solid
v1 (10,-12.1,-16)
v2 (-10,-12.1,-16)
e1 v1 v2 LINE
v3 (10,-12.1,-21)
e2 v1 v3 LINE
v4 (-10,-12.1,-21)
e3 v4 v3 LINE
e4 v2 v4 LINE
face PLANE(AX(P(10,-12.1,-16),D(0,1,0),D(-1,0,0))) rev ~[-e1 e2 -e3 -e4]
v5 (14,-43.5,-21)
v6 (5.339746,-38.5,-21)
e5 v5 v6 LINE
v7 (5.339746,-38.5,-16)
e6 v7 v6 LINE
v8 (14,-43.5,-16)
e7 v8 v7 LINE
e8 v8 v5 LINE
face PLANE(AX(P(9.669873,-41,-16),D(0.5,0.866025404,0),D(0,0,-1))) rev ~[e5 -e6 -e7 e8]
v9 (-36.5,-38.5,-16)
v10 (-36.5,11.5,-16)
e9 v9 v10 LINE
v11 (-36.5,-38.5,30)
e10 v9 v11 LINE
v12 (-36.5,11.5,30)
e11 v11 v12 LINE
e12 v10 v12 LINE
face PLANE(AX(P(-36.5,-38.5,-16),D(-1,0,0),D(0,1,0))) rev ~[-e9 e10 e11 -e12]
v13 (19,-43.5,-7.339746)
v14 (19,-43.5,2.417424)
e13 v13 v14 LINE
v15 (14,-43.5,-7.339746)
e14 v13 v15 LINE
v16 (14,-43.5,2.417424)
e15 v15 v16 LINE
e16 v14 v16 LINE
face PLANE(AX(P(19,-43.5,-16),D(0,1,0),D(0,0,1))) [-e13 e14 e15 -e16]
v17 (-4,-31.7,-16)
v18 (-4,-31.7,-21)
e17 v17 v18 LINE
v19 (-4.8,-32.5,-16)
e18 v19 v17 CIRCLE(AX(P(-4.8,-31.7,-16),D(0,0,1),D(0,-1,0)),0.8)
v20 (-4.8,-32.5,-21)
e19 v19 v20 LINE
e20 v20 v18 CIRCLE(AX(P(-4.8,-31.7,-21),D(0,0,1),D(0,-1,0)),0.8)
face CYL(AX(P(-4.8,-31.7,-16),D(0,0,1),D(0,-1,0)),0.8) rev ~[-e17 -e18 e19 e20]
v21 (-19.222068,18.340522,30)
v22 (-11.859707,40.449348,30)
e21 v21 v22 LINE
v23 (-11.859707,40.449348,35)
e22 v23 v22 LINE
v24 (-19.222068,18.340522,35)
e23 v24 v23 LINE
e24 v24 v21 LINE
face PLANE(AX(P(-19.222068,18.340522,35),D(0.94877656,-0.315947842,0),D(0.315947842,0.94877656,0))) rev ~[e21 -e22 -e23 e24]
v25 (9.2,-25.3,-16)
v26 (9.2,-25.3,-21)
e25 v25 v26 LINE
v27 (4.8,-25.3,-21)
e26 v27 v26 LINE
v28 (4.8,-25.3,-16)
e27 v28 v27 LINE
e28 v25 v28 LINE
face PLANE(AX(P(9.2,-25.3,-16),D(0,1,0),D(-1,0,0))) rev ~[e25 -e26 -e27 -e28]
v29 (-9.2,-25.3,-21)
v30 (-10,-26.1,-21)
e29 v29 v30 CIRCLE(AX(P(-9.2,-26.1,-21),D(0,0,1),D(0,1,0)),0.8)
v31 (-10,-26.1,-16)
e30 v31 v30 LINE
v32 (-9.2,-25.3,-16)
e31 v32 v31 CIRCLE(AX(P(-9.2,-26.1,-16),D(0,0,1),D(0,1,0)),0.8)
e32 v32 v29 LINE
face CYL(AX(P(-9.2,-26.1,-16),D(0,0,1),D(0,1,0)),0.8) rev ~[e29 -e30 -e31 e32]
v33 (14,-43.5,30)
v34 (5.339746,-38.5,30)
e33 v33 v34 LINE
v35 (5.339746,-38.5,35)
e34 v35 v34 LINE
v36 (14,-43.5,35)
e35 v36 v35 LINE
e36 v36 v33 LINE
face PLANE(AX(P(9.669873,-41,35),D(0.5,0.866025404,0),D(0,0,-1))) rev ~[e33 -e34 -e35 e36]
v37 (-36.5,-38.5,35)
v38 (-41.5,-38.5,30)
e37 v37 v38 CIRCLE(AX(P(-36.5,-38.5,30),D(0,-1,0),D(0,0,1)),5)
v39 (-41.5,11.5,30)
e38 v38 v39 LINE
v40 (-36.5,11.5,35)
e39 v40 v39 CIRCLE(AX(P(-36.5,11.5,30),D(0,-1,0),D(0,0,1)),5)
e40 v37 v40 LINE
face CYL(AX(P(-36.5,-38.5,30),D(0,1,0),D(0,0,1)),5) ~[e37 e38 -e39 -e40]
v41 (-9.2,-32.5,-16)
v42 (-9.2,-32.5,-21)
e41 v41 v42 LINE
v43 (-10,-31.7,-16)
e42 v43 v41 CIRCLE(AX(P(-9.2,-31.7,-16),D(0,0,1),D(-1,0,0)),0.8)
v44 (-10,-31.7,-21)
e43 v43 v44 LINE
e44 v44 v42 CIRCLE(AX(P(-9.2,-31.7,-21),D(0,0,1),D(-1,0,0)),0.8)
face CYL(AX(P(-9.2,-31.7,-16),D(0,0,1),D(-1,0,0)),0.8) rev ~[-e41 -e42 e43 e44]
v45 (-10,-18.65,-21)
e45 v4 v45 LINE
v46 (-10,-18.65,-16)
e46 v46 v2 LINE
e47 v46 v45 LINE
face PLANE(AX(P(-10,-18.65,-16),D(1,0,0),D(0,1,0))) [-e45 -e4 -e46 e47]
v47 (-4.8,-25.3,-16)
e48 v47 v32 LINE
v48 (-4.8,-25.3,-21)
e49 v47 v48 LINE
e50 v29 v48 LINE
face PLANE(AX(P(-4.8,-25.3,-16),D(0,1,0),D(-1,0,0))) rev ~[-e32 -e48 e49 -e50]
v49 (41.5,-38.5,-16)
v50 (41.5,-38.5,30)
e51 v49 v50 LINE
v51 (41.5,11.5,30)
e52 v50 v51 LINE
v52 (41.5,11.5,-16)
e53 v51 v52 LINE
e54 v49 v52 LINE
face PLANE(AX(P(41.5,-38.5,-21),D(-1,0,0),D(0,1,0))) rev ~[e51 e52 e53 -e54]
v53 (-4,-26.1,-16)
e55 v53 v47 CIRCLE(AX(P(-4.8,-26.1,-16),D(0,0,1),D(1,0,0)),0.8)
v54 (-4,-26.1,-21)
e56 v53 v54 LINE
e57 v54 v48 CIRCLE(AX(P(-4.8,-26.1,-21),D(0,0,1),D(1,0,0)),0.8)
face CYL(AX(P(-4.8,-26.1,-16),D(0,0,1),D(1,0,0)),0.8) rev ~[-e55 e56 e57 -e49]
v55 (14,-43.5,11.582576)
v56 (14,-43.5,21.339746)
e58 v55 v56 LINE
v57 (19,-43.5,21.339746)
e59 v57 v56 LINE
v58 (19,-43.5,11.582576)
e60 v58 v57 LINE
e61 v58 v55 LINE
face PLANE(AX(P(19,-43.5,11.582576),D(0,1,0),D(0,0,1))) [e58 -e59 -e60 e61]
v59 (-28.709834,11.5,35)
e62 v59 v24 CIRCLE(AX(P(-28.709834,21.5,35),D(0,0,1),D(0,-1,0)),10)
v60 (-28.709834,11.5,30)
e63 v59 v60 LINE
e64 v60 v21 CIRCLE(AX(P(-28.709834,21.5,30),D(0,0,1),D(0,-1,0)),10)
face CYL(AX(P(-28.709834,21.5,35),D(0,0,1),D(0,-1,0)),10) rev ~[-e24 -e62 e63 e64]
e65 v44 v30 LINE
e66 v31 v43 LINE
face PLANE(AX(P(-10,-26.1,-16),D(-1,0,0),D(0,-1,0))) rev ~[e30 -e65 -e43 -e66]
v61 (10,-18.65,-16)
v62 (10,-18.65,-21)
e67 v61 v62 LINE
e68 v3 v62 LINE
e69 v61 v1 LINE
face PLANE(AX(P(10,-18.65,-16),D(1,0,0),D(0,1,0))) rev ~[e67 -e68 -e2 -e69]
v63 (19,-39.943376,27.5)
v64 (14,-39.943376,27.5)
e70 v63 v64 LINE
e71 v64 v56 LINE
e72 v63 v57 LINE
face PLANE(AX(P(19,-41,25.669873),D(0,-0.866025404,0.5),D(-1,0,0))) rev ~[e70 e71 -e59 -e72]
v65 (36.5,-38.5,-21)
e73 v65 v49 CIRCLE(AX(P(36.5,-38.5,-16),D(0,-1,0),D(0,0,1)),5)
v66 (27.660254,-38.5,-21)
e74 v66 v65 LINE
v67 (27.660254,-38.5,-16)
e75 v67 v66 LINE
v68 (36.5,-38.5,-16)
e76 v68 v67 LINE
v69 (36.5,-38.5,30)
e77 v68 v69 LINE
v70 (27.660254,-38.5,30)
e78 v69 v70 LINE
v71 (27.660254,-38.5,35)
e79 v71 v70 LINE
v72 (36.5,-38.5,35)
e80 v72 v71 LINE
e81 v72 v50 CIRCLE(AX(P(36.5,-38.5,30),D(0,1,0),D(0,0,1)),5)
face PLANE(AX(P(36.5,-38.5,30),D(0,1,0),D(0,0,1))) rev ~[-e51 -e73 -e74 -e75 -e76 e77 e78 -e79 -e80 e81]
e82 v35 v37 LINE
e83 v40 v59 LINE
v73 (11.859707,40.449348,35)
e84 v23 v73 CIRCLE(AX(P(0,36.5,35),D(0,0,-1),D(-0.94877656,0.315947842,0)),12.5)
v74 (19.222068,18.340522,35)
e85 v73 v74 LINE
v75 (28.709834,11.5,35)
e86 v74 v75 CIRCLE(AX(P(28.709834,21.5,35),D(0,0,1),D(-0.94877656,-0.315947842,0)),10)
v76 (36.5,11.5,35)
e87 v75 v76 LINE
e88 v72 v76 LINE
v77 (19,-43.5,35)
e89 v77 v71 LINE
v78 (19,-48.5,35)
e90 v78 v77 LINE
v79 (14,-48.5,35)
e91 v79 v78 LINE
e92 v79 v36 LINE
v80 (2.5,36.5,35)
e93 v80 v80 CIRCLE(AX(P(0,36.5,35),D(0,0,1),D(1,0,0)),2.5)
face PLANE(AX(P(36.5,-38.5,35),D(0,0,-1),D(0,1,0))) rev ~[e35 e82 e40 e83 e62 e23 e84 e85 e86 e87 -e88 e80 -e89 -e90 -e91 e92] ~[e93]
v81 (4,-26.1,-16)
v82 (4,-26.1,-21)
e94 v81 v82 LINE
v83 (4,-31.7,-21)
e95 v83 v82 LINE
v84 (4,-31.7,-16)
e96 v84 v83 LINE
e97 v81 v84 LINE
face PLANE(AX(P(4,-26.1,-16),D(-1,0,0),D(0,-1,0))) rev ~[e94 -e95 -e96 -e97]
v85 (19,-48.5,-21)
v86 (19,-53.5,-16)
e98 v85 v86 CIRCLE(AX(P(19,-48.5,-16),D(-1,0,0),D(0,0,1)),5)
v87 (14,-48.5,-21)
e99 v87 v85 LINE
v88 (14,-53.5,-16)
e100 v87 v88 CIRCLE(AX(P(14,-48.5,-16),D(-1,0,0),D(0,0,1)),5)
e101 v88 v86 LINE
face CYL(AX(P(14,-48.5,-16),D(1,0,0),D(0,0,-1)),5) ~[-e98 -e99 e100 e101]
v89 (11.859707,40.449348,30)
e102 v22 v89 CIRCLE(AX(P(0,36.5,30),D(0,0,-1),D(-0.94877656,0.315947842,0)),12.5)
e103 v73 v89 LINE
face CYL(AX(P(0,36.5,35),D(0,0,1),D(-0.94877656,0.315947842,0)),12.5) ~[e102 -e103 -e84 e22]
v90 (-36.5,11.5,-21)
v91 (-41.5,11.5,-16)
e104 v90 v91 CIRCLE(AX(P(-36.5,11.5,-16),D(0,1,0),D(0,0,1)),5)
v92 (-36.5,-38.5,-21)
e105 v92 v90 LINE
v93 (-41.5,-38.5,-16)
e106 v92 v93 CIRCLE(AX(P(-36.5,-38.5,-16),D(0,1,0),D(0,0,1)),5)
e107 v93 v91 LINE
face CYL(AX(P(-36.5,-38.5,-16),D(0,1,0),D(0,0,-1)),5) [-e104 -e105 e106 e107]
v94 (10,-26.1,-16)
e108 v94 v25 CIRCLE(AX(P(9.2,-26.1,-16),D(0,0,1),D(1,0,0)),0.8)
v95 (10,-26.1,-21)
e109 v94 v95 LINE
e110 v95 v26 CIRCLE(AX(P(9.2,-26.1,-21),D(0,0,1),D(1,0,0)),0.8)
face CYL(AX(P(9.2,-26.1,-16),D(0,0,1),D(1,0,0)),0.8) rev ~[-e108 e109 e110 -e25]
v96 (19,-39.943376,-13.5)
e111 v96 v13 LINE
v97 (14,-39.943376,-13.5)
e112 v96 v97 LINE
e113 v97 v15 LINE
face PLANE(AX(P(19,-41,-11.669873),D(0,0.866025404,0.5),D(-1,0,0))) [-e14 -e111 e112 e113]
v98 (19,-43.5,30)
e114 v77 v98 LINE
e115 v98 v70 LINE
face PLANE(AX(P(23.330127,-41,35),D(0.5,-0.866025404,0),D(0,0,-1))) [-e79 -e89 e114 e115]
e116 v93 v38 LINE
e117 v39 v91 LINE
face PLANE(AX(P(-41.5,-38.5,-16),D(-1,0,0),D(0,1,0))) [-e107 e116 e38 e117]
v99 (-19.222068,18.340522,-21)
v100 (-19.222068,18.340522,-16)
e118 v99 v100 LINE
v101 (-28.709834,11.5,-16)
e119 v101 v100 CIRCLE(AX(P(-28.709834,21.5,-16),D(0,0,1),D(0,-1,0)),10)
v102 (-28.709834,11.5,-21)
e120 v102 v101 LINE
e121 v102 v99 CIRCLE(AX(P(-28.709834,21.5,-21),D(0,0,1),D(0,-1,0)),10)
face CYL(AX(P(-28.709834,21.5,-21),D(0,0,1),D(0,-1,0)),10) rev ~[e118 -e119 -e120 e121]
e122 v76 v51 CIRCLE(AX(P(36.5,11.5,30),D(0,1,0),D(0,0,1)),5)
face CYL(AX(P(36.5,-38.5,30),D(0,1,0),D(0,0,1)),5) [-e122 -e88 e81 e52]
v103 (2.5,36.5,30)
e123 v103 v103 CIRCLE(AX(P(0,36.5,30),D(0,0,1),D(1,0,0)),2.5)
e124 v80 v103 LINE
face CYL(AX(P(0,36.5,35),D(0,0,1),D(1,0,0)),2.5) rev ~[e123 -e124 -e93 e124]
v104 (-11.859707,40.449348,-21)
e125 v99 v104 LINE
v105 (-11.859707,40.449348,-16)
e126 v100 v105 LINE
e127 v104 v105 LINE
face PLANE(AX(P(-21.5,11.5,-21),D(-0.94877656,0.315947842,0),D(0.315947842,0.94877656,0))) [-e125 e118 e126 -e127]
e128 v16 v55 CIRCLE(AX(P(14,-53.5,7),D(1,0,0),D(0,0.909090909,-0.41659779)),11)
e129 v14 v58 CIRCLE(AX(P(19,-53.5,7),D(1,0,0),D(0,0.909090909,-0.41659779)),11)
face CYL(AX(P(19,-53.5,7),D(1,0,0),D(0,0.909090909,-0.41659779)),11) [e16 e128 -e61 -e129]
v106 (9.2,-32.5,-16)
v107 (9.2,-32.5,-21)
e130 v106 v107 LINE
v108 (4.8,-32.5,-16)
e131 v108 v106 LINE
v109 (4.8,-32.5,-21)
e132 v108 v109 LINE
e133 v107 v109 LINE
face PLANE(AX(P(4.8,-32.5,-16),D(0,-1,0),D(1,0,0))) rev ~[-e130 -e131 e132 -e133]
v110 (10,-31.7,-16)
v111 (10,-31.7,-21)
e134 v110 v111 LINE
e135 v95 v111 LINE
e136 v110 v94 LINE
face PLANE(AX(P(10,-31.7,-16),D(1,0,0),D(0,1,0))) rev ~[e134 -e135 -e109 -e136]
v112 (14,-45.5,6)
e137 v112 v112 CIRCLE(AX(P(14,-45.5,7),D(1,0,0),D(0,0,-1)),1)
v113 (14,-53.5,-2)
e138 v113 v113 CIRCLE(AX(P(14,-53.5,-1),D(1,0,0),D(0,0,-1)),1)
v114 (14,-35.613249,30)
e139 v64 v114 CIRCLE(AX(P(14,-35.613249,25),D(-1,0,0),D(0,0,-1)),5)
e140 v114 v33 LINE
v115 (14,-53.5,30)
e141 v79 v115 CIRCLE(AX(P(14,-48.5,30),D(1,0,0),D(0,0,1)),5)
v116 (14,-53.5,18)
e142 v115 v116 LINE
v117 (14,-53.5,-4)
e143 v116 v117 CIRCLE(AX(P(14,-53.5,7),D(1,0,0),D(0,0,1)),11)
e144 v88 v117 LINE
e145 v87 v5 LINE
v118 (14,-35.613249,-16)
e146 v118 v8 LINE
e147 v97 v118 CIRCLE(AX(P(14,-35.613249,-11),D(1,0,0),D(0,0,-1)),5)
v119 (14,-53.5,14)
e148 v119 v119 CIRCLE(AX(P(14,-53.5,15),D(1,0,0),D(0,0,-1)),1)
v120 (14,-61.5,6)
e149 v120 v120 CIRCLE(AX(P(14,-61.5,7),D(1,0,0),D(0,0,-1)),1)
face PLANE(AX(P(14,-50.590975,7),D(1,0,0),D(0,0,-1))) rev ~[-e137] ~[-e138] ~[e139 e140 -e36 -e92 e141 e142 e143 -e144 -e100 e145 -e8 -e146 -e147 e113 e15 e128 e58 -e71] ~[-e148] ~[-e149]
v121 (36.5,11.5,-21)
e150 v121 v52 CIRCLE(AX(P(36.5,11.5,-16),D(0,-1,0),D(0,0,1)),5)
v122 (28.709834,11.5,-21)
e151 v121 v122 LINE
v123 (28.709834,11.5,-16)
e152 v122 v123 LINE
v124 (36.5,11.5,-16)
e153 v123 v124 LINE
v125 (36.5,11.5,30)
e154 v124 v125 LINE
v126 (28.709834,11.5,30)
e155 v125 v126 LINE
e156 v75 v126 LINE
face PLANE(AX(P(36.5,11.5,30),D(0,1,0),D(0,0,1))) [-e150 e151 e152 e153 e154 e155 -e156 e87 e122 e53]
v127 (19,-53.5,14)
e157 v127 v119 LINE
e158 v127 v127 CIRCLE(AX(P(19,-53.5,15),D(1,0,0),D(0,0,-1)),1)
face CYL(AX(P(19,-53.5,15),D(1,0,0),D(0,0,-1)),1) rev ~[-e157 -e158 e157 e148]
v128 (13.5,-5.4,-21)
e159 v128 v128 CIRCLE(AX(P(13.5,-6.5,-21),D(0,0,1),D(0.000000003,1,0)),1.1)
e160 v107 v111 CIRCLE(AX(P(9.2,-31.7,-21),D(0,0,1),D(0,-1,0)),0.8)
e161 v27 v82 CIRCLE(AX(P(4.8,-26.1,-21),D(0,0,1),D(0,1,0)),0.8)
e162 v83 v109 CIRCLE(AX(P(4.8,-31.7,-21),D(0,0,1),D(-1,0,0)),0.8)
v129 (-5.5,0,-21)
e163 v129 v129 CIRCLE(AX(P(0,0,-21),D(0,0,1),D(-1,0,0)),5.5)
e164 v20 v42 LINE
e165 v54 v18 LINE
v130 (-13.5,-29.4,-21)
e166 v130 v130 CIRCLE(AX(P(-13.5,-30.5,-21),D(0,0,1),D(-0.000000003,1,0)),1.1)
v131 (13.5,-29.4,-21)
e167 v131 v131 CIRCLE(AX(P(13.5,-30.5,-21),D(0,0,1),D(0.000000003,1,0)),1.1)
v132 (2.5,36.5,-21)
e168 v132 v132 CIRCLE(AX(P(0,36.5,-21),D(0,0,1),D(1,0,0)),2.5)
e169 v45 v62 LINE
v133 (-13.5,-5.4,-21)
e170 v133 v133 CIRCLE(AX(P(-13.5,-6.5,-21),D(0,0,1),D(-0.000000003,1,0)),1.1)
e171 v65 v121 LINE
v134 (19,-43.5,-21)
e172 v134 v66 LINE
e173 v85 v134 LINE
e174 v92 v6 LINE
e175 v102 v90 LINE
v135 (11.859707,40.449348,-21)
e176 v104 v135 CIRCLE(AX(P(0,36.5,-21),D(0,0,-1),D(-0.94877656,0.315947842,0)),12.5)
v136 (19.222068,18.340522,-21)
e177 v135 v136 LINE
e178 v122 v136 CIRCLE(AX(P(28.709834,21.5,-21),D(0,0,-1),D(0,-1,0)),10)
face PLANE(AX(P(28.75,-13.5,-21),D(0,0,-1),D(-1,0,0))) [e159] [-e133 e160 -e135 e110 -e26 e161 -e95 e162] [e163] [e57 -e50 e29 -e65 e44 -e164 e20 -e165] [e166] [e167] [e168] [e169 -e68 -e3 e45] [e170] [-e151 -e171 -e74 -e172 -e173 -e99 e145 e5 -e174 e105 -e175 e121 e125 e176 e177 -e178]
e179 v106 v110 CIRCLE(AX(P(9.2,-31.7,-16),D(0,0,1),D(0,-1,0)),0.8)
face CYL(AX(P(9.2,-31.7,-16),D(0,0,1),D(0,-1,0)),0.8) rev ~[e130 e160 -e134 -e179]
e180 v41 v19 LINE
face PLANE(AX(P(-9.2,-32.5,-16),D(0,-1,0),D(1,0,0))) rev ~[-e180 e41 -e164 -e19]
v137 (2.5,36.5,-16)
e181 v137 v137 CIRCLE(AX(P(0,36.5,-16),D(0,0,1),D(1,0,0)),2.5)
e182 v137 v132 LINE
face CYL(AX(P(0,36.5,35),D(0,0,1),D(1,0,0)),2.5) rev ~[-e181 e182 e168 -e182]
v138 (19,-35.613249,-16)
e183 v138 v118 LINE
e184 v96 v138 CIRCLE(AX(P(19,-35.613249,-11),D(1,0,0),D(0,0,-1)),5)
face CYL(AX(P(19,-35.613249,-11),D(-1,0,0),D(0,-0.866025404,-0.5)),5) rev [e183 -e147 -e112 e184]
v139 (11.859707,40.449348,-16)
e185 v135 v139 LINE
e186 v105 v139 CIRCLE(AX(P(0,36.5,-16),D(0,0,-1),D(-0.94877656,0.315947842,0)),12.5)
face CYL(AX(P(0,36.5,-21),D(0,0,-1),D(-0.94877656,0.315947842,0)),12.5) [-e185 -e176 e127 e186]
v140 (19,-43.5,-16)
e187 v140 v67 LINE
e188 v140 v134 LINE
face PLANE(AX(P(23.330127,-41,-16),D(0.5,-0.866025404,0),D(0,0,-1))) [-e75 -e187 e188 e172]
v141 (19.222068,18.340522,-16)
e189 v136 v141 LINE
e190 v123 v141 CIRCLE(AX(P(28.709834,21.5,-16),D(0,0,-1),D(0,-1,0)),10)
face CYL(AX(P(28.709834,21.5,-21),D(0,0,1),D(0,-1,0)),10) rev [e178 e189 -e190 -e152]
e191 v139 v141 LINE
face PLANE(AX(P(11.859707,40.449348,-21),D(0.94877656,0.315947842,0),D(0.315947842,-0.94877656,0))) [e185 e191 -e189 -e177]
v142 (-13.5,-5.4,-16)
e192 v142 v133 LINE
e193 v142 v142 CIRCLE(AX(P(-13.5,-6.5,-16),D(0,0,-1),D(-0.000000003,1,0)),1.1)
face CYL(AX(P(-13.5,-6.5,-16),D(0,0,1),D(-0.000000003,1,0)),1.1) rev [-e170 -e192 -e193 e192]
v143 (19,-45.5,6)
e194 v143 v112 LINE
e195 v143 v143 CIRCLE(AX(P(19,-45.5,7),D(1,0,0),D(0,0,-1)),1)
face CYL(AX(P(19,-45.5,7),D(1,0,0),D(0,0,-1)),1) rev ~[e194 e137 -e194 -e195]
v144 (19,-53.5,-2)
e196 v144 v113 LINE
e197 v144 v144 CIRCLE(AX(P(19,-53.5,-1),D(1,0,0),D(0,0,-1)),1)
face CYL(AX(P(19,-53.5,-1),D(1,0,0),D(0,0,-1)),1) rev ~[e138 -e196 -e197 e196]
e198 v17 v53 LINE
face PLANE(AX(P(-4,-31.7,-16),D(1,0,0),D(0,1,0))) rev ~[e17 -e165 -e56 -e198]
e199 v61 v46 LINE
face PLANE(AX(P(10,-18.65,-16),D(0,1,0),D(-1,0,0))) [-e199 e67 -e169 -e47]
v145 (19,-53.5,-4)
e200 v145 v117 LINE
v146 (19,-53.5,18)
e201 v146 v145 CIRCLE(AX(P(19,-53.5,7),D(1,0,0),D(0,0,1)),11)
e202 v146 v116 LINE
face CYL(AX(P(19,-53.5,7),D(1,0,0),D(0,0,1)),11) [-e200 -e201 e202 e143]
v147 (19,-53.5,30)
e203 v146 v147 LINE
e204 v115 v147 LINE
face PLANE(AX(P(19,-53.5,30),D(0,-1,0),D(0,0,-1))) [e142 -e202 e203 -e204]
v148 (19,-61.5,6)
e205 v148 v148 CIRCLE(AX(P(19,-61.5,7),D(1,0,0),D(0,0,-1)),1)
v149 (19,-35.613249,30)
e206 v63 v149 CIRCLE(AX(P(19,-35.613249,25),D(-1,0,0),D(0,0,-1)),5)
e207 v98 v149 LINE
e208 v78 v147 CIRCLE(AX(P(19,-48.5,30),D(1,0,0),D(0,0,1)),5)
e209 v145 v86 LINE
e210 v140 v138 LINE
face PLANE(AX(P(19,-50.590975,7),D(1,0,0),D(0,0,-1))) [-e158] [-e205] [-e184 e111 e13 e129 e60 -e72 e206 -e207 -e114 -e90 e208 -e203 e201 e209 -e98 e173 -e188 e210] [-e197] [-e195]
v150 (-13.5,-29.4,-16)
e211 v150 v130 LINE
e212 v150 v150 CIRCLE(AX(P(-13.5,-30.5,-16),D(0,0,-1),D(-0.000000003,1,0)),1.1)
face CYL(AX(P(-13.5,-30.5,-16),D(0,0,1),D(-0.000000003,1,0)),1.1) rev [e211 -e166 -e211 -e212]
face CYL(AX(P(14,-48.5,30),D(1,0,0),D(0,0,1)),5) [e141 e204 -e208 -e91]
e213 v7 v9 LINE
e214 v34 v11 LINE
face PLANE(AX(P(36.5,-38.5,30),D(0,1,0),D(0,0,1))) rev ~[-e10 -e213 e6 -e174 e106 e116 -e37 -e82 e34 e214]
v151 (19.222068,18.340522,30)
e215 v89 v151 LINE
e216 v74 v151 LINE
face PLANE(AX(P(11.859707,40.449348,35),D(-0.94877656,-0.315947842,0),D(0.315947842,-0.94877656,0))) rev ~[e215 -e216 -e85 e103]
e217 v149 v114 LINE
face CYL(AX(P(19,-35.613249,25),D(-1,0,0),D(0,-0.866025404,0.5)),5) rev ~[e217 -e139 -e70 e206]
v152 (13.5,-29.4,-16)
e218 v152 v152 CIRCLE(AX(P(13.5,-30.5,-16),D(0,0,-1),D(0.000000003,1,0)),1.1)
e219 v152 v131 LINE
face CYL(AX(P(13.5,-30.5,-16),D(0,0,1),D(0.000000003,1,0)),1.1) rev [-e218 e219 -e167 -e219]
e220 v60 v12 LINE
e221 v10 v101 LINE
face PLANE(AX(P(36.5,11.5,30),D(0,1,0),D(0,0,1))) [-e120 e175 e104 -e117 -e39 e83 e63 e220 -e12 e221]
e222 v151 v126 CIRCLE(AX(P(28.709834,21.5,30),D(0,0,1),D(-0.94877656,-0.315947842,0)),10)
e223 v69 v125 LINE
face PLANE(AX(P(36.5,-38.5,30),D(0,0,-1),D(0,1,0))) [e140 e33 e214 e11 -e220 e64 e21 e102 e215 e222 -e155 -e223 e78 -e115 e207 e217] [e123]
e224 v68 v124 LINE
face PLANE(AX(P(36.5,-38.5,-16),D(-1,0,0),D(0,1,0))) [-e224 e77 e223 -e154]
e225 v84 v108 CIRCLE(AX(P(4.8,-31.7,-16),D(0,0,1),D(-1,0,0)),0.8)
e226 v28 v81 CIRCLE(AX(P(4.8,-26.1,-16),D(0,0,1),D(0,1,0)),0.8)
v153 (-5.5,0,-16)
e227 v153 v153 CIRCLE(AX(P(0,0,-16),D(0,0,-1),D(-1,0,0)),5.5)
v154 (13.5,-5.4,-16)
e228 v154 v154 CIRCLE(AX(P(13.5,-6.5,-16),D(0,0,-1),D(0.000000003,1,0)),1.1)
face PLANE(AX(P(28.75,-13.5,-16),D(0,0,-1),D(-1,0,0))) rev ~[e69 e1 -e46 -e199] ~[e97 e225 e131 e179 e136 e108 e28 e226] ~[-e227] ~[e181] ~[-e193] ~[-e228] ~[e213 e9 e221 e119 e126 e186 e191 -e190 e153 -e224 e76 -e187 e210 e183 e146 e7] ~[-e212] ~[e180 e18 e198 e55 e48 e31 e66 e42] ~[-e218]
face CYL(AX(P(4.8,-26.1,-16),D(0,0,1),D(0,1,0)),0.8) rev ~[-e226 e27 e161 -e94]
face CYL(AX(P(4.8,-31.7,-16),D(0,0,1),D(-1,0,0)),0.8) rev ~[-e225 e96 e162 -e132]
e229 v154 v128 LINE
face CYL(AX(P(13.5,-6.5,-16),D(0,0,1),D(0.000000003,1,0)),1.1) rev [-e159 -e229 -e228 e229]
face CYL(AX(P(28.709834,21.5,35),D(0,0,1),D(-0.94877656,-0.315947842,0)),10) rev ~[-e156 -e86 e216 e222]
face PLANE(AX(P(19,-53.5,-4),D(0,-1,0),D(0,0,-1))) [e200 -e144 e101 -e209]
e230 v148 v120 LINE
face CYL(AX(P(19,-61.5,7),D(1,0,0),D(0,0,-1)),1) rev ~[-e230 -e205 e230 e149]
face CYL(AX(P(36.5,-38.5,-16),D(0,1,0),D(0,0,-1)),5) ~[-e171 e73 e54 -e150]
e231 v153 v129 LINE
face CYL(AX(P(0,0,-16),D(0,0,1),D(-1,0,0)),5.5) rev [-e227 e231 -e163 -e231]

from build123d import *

# Parameters (mm, degrees)
SKETCH3_W             = 32
SKETCH3_H             = 50
BOSS_EXTRUDE1_DEPTH   = 5
CUT_W                 = 20
CUT_H                 = 6.55
CUT_EXTRUDE1_DEPTH    = 10
SKETCH4_W             = 25.5
SKETCH4_H             = 50
BOSS_EXTRUDE2_DEPTH   = 5
SKETCH5_W             = 5
SKETCH5_H             = 50
BOSS_EXTRUDE3_DEPTH   = 51
BOSS_EXTRUDE4_REACH   = 80
SKETCH6_W             = 5
SKETCH6_H             = 50
BOSS_EXTRUDE5_DEPTH   = 5
FILLET1_R             = 10
BOSS_EXTRUDE6_DEPTH   = 5
SKETCH9_W             = 5
SKETCH9_H             = 15
BOSS_EXTRUDE7_DEPTH   = 2.5
BOSS_EXTRUDE8_DEPTH   = 5
SKETCH11_R            = 1
CUT_EXTRUDE2_DEPTH    = 5
FILLET4_R             = 5
FILLET5_R             = 5
CHAMFER1_SIZE         = 5
CHAMFER1_SIZE2        = 8.660254038
CHAMFER1_PART_2_SIZE  = 5
CHAMFER1_PART_2_SIZE2 = 8.660254038
FILLET6_R             = 5
CHAMFER2_SIZE         = 5
CHAMFER2_SIZE2        = 8.660254038
CHAMFER2_PART_2_SIZE  = 5
CHAMFER2_PART_2_SIZE2 = 8.660254038
SKETCH12_R            = 2.5
CUT_EXTRUDE3_DEPTH    = 57


with BuildPart() as part:
    # Sketch3 → Boss-Extrude1 (new body)
    with BuildSketch(Plane(origin=(0, 0, -16), x_dir=(-1, 0, 0), z_dir=(0, 0, -1))):
        with Locations((0, -13.5)):
            Rectangle(SKETCH3_W, SKETCH3_H)
    extrude(amount=BOSS_EXTRUDE1_DEPTH)

    # Cut → Cut-Extrude1 (cut)
    with BuildSketch(Plane(origin=(0, 0, -16), x_dir=(-1, 0, 0), z_dir=(0, 0, -1))):
        with BuildLine():
            Line((9.2, -32.5), (4.8, -32.5))
            ThreePointArc((4.8, -32.5), (4.234314575, -32.265685425), (4, -31.7))
            Line((4, -31.7), (4, -26.1))
            ThreePointArc((4, -26.1), (4.234314575, -25.534314575), (4.8, -25.3))
            Line((4.8, -25.3), (9.2, -25.3))
            ThreePointArc((9.2, -25.3), (9.765685425, -25.534314575), (10, -26.1))
            Line((10, -26.1), (10, -31.7))
            ThreePointArc((10, -31.7), (9.765685425, -32.265685425), (9.2, -32.5))
        make_face()
        with BuildLine():
            Line((-10, -31.7), (-10, -26.1))
            ThreePointArc((-10, -26.1), (-9.765685425, -25.534314575), (-9.2, -25.3))
            Line((-9.2, -25.3), (-4.8, -25.3))
            ThreePointArc((-4.8, -25.3), (-4.234314575, -25.534314575), (-4, -26.1))
            Line((-4, -26.1), (-4, -31.7))
            ThreePointArc((-4, -31.7), (-4.234314575, -32.265685425), (-4.8, -32.5))
            Line((-4.8, -32.5), (-9.2, -32.5))
            ThreePointArc((-9.2, -32.5), (-9.765685425, -32.265685425), (-10, -31.7))
        make_face()
        with Locations((0, -15.375)):
            Rectangle(CUT_W, CUT_H)
        with BuildLine():
            ThreePointArc((-5.5, 0), (0, -5.5), (5.5, 0))
            ThreePointArc((5.5, 0), (0, 5.5), (-5.5, 0))
        make_face()
        with BuildLine():
            ThreePointArc((13.5, -7.6), (14.6, -6.500000002), (13.500000003, -5.4))
            ThreePointArc((13.500000003, -5.4), (12.4, -6.499999998), (13.5, -7.6))
        make_face()
        with BuildLine():
            ThreePointArc((13.5, -31.6), (14.6, -30.500000002), (13.500000003, -29.4))
            ThreePointArc((13.500000003, -29.4), (12.4, -30.499999998), (13.5, -31.6))
        make_face()
        with BuildLine():
            ThreePointArc((-13.5, -31.6), (-12.4, -30.499999998), (-13.500000003, -29.4))
            ThreePointArc((-13.500000003, -29.4), (-14.6, -30.500000002), (-13.5, -31.6))
        make_face()
        with BuildLine():
            ThreePointArc((-13.5, -7.6), (-12.4, -6.499999998), (-13.500000003, -5.4))
            ThreePointArc((-13.500000003, -5.4), (-14.6, -6.500000002), (-13.5, -7.6))
        make_face()
    extrude(amount=CUT_EXTRUDE1_DEPTH, mode=Mode.SUBTRACT)

    # Sketch4 → Boss-Extrude2 (add)
    with BuildSketch(Plane(origin=(0, 0, -21), x_dir=(-1, 0, 0), z_dir=(0, 0, -1))):
        with Locations((-28.75, -13.5)):
            Rectangle(SKETCH4_W, SKETCH4_H)
        with Locations((28.75, -13.5)):
            Rectangle(SKETCH4_W, SKETCH4_H)
    extrude(amount=-BOSS_EXTRUDE2_DEPTH)

    # Sketch5 → Boss-Extrude3 (add)
    with BuildSketch(Plane.XY.offset(-16)):
        with Locations((-39, -13.5)):
            Rectangle(SKETCH5_W, SKETCH5_H)
        with Locations((39, -13.5)):
            Rectangle(SKETCH5_W, SKETCH5_H)
    extrude(amount=BOSS_EXTRUDE3_DEPTH)

    # Sketch6 → Boss-Extrude4 (add, up to next)
    with BuildSketch(Plane.ZY.offset(-36.5), mode=Mode.PRIVATE) as boss_extrude4_sk1:
        with Locations((32.5, -13.5)):
            Rectangle(SKETCH6_W, SKETCH6_H)
    boss_extrude4_tool1 = extrude(boss_extrude4_sk1.sketch, amount=BOSS_EXTRUDE4_REACH, mode=Mode.PRIVATE) - part.part
    add(boss_extrude4_tool1.solids().sort_by_distance((36.5, -13.5, 32.5))[0])

    # Sketch7 → Boss-Extrude5 (add)
    with BuildSketch(Plane(origin=(0, 0, -21), x_dir=(-1, 0, 0), z_dir=(0, 0, -1))):
        with BuildLine():
            Line((-11.859707003, 40.449348023), (-21.5, 11.5))
            Line((-21.5, 11.5), (21.5, 11.5))
            Line((21.5, 11.5), (11.859707003, 40.449348023))
            ThreePointArc((11.859707003, 40.449348023), (0, 49), (-11.859707003, 40.449348023))
        make_face()
    extrude(amount=-BOSS_EXTRUDE5_DEPTH)

    # Fillet1
    fillet1_edges = [part.edges().sort_by_distance(p)[0] for p in [
        (-21.5, 11.5, -18.5),
        (21.5, 11.5, -18.5),
    ]]
    fillet(fillet1_edges, radius=FILLET1_R)

    # Sketch8 → Boss-Extrude6 (add)
    with BuildSketch(Plane.XY.offset(35)):
        with BuildLine():
            Line((11.859707003, 40.449348023), (19.222068481, 18.340521582))
            ThreePointArc((19.222068481, 18.340521582), (22.86153451, 13.388440835), (28.709834084, 11.5))
            Line((28.709834084, 11.5), (-28.709834084, 11.5))
            ThreePointArc((-28.709834084, 11.5), (-22.86153451, 13.388440835), (-19.222068481, 18.340521582))
            Line((-19.222068481, 18.340521582), (-11.859707003, 40.449348023))
            ThreePointArc((-11.859707003, 40.449348023), (0, 49), (11.859707003, 40.449348023))
        make_face()
    extrude(amount=-BOSS_EXTRUDE6_DEPTH)

    # Sketch9 → Boss-Extrude7 (add, symmetric)
    with BuildSketch(Plane(origin=(16.5, 0, 0), x_dir=(0, 0, -1), z_dir=(1, 0, 0))):
        with Locations((-32.5, -46)):
            Rectangle(SKETCH9_W, SKETCH9_H)
        with Locations((18.5, -46)):
            Rectangle(SKETCH9_W, SKETCH9_H)
    extrude(amount=BOSS_EXTRUDE7_DEPTH, both=True)

    # Sketch10 → Boss-Extrude8 (add)
    with BuildSketch(Plane(origin=(19, 0, 0), x_dir=(0, 0, -1), z_dir=(1, 0, 0))):
        with BuildLine():
            Line((-30, -53.5), (-18, -53.5))
            ThreePointArc((-18, -53.5), (-7, -64.5), (4, -53.5))
            Line((4, -53.5), (16, -53.5))
            Line((16, -53.5), (16, -43.5))
            Line((16, -43.5), (-2.417424305, -43.5))
            ThreePointArc((-2.417424305, -43.5), (-7, -42.5), (-11.582575695, -43.5))
            Line((-11.582575695, -43.5), (-30, -43.5))
            Line((-30, -43.5), (-30, -53.5))
        make_face()
    extrude(amount=-BOSS_EXTRUDE8_DEPTH)

    # Sketch11 → Cut-Extrude2 (cut)
    with BuildSketch(Plane(origin=(19, 0, 0), x_dir=(0, 0, -1), z_dir=(1, 0, 0))):
        with Locations((-15, -53.5)):
            Circle(SKETCH11_R)
        with Locations((-7, -45.5)):
            Circle(SKETCH11_R)
        with Locations((1, -53.5)):
            Circle(SKETCH11_R)
        with Locations((-7, -61.5)):
            Circle(SKETCH11_R)
    extrude(amount=-CUT_EXTRUDE2_DEPTH, mode=Mode.SUBTRACT)

    # Fillet4
    fillet4_edges = [part.edges().sort_by_distance(p)[0] for p in [
        (41.5, -13.5, -21),
        (-41.5, -13.5, -21),
        (-41.5, -13.5, 35),
        (41.5, -13.5, 35),
    ]]
    fillet(fillet4_edges, radius=FILLET4_R)

    # Fillet5
    fillet5_edges = [part.edges().sort_by_distance(p)[0] for p in [
        (16.5, -53.5, 35),
        (16.5, -53.5, -21),
    ]]
    fillet(fillet5_edges, radius=FILLET5_R)

    # Chamfer1
    chamfer1_edges = [part.edges().sort_by_distance(p)[0] for p in [
        (16.5, -43.5, -16),
    ]]
    chamfer1_side = [part.faces().sort_by_distance(p)[0] for p in [
        (-22.17239609, 12.432609658, -16),
    ]]
    chamfer(chamfer1_edges, length=CHAMFER1_SIZE, length2=CHAMFER1_SIZE2, reference=chamfer1_side[0])

    # Chamfer1 part 2
    chamfer1_part_2_edges = [part.edges().sort_by_distance(p)[0] for p in [
        (16.5, -43.5, 30),
    ]]
    chamfer1_part_2_side = [part.faces().sort_by_distance(p)[0] for p in [
        (0.085787805, -4.114556323, 30),
    ]]
    chamfer(chamfer1_part_2_edges, length=CHAMFER1_PART_2_SIZE, length2=CHAMFER1_PART_2_SIZE2, reference=chamfer1_part_2_side[0])

    # Fillet6
    fillet6_edges = [part.edges().sort_by_distance(p)[0] for p in [
        (16.5, -38.5, -16),
        (16.5, -38.5, 30),
    ]]
    fillet(fillet6_edges, radius=FILLET6_R)

    # Chamfer2
    chamfer2_edges = [part.edges().sort_by_distance(p)[0] for p in [
        (14, -38.5, 32.5),
        (14, -38.5, -18.5),
    ]]
    chamfer2_side = [part.faces().sort_by_distance(p)[0] for p in [
        (14, -49.7166158, 7),
    ]]
    chamfer(chamfer2_edges, length=CHAMFER2_SIZE, length2=CHAMFER2_SIZE2, reference=chamfer2_side[0])

    # Chamfer2 part 2
    chamfer2_part_2_edges = [part.edges().sort_by_distance(p)[0] for p in [
        (19, -38.5, 32.5),
        (19, -38.5, -18.5),
    ]]
    chamfer2_part_2_side = [part.faces().sort_by_distance(p)[0] for p in [
        (19, -49.7166158, 7),
    ]]
    chamfer(chamfer2_part_2_edges, length=CHAMFER2_PART_2_SIZE, length2=CHAMFER2_PART_2_SIZE2, reference=chamfer2_part_2_side[0])

    # Sketch12 → Cut-Extrude3 (cut, through all)
    with BuildSketch(Plane.XY.offset(35)):
        with Locations((0, 36.5)):
            Circle(SKETCH12_R)
    extrude(amount=-CUT_EXTRUDE3_DEPTH, mode=Mode.SUBTRACT)


solid = part.part
